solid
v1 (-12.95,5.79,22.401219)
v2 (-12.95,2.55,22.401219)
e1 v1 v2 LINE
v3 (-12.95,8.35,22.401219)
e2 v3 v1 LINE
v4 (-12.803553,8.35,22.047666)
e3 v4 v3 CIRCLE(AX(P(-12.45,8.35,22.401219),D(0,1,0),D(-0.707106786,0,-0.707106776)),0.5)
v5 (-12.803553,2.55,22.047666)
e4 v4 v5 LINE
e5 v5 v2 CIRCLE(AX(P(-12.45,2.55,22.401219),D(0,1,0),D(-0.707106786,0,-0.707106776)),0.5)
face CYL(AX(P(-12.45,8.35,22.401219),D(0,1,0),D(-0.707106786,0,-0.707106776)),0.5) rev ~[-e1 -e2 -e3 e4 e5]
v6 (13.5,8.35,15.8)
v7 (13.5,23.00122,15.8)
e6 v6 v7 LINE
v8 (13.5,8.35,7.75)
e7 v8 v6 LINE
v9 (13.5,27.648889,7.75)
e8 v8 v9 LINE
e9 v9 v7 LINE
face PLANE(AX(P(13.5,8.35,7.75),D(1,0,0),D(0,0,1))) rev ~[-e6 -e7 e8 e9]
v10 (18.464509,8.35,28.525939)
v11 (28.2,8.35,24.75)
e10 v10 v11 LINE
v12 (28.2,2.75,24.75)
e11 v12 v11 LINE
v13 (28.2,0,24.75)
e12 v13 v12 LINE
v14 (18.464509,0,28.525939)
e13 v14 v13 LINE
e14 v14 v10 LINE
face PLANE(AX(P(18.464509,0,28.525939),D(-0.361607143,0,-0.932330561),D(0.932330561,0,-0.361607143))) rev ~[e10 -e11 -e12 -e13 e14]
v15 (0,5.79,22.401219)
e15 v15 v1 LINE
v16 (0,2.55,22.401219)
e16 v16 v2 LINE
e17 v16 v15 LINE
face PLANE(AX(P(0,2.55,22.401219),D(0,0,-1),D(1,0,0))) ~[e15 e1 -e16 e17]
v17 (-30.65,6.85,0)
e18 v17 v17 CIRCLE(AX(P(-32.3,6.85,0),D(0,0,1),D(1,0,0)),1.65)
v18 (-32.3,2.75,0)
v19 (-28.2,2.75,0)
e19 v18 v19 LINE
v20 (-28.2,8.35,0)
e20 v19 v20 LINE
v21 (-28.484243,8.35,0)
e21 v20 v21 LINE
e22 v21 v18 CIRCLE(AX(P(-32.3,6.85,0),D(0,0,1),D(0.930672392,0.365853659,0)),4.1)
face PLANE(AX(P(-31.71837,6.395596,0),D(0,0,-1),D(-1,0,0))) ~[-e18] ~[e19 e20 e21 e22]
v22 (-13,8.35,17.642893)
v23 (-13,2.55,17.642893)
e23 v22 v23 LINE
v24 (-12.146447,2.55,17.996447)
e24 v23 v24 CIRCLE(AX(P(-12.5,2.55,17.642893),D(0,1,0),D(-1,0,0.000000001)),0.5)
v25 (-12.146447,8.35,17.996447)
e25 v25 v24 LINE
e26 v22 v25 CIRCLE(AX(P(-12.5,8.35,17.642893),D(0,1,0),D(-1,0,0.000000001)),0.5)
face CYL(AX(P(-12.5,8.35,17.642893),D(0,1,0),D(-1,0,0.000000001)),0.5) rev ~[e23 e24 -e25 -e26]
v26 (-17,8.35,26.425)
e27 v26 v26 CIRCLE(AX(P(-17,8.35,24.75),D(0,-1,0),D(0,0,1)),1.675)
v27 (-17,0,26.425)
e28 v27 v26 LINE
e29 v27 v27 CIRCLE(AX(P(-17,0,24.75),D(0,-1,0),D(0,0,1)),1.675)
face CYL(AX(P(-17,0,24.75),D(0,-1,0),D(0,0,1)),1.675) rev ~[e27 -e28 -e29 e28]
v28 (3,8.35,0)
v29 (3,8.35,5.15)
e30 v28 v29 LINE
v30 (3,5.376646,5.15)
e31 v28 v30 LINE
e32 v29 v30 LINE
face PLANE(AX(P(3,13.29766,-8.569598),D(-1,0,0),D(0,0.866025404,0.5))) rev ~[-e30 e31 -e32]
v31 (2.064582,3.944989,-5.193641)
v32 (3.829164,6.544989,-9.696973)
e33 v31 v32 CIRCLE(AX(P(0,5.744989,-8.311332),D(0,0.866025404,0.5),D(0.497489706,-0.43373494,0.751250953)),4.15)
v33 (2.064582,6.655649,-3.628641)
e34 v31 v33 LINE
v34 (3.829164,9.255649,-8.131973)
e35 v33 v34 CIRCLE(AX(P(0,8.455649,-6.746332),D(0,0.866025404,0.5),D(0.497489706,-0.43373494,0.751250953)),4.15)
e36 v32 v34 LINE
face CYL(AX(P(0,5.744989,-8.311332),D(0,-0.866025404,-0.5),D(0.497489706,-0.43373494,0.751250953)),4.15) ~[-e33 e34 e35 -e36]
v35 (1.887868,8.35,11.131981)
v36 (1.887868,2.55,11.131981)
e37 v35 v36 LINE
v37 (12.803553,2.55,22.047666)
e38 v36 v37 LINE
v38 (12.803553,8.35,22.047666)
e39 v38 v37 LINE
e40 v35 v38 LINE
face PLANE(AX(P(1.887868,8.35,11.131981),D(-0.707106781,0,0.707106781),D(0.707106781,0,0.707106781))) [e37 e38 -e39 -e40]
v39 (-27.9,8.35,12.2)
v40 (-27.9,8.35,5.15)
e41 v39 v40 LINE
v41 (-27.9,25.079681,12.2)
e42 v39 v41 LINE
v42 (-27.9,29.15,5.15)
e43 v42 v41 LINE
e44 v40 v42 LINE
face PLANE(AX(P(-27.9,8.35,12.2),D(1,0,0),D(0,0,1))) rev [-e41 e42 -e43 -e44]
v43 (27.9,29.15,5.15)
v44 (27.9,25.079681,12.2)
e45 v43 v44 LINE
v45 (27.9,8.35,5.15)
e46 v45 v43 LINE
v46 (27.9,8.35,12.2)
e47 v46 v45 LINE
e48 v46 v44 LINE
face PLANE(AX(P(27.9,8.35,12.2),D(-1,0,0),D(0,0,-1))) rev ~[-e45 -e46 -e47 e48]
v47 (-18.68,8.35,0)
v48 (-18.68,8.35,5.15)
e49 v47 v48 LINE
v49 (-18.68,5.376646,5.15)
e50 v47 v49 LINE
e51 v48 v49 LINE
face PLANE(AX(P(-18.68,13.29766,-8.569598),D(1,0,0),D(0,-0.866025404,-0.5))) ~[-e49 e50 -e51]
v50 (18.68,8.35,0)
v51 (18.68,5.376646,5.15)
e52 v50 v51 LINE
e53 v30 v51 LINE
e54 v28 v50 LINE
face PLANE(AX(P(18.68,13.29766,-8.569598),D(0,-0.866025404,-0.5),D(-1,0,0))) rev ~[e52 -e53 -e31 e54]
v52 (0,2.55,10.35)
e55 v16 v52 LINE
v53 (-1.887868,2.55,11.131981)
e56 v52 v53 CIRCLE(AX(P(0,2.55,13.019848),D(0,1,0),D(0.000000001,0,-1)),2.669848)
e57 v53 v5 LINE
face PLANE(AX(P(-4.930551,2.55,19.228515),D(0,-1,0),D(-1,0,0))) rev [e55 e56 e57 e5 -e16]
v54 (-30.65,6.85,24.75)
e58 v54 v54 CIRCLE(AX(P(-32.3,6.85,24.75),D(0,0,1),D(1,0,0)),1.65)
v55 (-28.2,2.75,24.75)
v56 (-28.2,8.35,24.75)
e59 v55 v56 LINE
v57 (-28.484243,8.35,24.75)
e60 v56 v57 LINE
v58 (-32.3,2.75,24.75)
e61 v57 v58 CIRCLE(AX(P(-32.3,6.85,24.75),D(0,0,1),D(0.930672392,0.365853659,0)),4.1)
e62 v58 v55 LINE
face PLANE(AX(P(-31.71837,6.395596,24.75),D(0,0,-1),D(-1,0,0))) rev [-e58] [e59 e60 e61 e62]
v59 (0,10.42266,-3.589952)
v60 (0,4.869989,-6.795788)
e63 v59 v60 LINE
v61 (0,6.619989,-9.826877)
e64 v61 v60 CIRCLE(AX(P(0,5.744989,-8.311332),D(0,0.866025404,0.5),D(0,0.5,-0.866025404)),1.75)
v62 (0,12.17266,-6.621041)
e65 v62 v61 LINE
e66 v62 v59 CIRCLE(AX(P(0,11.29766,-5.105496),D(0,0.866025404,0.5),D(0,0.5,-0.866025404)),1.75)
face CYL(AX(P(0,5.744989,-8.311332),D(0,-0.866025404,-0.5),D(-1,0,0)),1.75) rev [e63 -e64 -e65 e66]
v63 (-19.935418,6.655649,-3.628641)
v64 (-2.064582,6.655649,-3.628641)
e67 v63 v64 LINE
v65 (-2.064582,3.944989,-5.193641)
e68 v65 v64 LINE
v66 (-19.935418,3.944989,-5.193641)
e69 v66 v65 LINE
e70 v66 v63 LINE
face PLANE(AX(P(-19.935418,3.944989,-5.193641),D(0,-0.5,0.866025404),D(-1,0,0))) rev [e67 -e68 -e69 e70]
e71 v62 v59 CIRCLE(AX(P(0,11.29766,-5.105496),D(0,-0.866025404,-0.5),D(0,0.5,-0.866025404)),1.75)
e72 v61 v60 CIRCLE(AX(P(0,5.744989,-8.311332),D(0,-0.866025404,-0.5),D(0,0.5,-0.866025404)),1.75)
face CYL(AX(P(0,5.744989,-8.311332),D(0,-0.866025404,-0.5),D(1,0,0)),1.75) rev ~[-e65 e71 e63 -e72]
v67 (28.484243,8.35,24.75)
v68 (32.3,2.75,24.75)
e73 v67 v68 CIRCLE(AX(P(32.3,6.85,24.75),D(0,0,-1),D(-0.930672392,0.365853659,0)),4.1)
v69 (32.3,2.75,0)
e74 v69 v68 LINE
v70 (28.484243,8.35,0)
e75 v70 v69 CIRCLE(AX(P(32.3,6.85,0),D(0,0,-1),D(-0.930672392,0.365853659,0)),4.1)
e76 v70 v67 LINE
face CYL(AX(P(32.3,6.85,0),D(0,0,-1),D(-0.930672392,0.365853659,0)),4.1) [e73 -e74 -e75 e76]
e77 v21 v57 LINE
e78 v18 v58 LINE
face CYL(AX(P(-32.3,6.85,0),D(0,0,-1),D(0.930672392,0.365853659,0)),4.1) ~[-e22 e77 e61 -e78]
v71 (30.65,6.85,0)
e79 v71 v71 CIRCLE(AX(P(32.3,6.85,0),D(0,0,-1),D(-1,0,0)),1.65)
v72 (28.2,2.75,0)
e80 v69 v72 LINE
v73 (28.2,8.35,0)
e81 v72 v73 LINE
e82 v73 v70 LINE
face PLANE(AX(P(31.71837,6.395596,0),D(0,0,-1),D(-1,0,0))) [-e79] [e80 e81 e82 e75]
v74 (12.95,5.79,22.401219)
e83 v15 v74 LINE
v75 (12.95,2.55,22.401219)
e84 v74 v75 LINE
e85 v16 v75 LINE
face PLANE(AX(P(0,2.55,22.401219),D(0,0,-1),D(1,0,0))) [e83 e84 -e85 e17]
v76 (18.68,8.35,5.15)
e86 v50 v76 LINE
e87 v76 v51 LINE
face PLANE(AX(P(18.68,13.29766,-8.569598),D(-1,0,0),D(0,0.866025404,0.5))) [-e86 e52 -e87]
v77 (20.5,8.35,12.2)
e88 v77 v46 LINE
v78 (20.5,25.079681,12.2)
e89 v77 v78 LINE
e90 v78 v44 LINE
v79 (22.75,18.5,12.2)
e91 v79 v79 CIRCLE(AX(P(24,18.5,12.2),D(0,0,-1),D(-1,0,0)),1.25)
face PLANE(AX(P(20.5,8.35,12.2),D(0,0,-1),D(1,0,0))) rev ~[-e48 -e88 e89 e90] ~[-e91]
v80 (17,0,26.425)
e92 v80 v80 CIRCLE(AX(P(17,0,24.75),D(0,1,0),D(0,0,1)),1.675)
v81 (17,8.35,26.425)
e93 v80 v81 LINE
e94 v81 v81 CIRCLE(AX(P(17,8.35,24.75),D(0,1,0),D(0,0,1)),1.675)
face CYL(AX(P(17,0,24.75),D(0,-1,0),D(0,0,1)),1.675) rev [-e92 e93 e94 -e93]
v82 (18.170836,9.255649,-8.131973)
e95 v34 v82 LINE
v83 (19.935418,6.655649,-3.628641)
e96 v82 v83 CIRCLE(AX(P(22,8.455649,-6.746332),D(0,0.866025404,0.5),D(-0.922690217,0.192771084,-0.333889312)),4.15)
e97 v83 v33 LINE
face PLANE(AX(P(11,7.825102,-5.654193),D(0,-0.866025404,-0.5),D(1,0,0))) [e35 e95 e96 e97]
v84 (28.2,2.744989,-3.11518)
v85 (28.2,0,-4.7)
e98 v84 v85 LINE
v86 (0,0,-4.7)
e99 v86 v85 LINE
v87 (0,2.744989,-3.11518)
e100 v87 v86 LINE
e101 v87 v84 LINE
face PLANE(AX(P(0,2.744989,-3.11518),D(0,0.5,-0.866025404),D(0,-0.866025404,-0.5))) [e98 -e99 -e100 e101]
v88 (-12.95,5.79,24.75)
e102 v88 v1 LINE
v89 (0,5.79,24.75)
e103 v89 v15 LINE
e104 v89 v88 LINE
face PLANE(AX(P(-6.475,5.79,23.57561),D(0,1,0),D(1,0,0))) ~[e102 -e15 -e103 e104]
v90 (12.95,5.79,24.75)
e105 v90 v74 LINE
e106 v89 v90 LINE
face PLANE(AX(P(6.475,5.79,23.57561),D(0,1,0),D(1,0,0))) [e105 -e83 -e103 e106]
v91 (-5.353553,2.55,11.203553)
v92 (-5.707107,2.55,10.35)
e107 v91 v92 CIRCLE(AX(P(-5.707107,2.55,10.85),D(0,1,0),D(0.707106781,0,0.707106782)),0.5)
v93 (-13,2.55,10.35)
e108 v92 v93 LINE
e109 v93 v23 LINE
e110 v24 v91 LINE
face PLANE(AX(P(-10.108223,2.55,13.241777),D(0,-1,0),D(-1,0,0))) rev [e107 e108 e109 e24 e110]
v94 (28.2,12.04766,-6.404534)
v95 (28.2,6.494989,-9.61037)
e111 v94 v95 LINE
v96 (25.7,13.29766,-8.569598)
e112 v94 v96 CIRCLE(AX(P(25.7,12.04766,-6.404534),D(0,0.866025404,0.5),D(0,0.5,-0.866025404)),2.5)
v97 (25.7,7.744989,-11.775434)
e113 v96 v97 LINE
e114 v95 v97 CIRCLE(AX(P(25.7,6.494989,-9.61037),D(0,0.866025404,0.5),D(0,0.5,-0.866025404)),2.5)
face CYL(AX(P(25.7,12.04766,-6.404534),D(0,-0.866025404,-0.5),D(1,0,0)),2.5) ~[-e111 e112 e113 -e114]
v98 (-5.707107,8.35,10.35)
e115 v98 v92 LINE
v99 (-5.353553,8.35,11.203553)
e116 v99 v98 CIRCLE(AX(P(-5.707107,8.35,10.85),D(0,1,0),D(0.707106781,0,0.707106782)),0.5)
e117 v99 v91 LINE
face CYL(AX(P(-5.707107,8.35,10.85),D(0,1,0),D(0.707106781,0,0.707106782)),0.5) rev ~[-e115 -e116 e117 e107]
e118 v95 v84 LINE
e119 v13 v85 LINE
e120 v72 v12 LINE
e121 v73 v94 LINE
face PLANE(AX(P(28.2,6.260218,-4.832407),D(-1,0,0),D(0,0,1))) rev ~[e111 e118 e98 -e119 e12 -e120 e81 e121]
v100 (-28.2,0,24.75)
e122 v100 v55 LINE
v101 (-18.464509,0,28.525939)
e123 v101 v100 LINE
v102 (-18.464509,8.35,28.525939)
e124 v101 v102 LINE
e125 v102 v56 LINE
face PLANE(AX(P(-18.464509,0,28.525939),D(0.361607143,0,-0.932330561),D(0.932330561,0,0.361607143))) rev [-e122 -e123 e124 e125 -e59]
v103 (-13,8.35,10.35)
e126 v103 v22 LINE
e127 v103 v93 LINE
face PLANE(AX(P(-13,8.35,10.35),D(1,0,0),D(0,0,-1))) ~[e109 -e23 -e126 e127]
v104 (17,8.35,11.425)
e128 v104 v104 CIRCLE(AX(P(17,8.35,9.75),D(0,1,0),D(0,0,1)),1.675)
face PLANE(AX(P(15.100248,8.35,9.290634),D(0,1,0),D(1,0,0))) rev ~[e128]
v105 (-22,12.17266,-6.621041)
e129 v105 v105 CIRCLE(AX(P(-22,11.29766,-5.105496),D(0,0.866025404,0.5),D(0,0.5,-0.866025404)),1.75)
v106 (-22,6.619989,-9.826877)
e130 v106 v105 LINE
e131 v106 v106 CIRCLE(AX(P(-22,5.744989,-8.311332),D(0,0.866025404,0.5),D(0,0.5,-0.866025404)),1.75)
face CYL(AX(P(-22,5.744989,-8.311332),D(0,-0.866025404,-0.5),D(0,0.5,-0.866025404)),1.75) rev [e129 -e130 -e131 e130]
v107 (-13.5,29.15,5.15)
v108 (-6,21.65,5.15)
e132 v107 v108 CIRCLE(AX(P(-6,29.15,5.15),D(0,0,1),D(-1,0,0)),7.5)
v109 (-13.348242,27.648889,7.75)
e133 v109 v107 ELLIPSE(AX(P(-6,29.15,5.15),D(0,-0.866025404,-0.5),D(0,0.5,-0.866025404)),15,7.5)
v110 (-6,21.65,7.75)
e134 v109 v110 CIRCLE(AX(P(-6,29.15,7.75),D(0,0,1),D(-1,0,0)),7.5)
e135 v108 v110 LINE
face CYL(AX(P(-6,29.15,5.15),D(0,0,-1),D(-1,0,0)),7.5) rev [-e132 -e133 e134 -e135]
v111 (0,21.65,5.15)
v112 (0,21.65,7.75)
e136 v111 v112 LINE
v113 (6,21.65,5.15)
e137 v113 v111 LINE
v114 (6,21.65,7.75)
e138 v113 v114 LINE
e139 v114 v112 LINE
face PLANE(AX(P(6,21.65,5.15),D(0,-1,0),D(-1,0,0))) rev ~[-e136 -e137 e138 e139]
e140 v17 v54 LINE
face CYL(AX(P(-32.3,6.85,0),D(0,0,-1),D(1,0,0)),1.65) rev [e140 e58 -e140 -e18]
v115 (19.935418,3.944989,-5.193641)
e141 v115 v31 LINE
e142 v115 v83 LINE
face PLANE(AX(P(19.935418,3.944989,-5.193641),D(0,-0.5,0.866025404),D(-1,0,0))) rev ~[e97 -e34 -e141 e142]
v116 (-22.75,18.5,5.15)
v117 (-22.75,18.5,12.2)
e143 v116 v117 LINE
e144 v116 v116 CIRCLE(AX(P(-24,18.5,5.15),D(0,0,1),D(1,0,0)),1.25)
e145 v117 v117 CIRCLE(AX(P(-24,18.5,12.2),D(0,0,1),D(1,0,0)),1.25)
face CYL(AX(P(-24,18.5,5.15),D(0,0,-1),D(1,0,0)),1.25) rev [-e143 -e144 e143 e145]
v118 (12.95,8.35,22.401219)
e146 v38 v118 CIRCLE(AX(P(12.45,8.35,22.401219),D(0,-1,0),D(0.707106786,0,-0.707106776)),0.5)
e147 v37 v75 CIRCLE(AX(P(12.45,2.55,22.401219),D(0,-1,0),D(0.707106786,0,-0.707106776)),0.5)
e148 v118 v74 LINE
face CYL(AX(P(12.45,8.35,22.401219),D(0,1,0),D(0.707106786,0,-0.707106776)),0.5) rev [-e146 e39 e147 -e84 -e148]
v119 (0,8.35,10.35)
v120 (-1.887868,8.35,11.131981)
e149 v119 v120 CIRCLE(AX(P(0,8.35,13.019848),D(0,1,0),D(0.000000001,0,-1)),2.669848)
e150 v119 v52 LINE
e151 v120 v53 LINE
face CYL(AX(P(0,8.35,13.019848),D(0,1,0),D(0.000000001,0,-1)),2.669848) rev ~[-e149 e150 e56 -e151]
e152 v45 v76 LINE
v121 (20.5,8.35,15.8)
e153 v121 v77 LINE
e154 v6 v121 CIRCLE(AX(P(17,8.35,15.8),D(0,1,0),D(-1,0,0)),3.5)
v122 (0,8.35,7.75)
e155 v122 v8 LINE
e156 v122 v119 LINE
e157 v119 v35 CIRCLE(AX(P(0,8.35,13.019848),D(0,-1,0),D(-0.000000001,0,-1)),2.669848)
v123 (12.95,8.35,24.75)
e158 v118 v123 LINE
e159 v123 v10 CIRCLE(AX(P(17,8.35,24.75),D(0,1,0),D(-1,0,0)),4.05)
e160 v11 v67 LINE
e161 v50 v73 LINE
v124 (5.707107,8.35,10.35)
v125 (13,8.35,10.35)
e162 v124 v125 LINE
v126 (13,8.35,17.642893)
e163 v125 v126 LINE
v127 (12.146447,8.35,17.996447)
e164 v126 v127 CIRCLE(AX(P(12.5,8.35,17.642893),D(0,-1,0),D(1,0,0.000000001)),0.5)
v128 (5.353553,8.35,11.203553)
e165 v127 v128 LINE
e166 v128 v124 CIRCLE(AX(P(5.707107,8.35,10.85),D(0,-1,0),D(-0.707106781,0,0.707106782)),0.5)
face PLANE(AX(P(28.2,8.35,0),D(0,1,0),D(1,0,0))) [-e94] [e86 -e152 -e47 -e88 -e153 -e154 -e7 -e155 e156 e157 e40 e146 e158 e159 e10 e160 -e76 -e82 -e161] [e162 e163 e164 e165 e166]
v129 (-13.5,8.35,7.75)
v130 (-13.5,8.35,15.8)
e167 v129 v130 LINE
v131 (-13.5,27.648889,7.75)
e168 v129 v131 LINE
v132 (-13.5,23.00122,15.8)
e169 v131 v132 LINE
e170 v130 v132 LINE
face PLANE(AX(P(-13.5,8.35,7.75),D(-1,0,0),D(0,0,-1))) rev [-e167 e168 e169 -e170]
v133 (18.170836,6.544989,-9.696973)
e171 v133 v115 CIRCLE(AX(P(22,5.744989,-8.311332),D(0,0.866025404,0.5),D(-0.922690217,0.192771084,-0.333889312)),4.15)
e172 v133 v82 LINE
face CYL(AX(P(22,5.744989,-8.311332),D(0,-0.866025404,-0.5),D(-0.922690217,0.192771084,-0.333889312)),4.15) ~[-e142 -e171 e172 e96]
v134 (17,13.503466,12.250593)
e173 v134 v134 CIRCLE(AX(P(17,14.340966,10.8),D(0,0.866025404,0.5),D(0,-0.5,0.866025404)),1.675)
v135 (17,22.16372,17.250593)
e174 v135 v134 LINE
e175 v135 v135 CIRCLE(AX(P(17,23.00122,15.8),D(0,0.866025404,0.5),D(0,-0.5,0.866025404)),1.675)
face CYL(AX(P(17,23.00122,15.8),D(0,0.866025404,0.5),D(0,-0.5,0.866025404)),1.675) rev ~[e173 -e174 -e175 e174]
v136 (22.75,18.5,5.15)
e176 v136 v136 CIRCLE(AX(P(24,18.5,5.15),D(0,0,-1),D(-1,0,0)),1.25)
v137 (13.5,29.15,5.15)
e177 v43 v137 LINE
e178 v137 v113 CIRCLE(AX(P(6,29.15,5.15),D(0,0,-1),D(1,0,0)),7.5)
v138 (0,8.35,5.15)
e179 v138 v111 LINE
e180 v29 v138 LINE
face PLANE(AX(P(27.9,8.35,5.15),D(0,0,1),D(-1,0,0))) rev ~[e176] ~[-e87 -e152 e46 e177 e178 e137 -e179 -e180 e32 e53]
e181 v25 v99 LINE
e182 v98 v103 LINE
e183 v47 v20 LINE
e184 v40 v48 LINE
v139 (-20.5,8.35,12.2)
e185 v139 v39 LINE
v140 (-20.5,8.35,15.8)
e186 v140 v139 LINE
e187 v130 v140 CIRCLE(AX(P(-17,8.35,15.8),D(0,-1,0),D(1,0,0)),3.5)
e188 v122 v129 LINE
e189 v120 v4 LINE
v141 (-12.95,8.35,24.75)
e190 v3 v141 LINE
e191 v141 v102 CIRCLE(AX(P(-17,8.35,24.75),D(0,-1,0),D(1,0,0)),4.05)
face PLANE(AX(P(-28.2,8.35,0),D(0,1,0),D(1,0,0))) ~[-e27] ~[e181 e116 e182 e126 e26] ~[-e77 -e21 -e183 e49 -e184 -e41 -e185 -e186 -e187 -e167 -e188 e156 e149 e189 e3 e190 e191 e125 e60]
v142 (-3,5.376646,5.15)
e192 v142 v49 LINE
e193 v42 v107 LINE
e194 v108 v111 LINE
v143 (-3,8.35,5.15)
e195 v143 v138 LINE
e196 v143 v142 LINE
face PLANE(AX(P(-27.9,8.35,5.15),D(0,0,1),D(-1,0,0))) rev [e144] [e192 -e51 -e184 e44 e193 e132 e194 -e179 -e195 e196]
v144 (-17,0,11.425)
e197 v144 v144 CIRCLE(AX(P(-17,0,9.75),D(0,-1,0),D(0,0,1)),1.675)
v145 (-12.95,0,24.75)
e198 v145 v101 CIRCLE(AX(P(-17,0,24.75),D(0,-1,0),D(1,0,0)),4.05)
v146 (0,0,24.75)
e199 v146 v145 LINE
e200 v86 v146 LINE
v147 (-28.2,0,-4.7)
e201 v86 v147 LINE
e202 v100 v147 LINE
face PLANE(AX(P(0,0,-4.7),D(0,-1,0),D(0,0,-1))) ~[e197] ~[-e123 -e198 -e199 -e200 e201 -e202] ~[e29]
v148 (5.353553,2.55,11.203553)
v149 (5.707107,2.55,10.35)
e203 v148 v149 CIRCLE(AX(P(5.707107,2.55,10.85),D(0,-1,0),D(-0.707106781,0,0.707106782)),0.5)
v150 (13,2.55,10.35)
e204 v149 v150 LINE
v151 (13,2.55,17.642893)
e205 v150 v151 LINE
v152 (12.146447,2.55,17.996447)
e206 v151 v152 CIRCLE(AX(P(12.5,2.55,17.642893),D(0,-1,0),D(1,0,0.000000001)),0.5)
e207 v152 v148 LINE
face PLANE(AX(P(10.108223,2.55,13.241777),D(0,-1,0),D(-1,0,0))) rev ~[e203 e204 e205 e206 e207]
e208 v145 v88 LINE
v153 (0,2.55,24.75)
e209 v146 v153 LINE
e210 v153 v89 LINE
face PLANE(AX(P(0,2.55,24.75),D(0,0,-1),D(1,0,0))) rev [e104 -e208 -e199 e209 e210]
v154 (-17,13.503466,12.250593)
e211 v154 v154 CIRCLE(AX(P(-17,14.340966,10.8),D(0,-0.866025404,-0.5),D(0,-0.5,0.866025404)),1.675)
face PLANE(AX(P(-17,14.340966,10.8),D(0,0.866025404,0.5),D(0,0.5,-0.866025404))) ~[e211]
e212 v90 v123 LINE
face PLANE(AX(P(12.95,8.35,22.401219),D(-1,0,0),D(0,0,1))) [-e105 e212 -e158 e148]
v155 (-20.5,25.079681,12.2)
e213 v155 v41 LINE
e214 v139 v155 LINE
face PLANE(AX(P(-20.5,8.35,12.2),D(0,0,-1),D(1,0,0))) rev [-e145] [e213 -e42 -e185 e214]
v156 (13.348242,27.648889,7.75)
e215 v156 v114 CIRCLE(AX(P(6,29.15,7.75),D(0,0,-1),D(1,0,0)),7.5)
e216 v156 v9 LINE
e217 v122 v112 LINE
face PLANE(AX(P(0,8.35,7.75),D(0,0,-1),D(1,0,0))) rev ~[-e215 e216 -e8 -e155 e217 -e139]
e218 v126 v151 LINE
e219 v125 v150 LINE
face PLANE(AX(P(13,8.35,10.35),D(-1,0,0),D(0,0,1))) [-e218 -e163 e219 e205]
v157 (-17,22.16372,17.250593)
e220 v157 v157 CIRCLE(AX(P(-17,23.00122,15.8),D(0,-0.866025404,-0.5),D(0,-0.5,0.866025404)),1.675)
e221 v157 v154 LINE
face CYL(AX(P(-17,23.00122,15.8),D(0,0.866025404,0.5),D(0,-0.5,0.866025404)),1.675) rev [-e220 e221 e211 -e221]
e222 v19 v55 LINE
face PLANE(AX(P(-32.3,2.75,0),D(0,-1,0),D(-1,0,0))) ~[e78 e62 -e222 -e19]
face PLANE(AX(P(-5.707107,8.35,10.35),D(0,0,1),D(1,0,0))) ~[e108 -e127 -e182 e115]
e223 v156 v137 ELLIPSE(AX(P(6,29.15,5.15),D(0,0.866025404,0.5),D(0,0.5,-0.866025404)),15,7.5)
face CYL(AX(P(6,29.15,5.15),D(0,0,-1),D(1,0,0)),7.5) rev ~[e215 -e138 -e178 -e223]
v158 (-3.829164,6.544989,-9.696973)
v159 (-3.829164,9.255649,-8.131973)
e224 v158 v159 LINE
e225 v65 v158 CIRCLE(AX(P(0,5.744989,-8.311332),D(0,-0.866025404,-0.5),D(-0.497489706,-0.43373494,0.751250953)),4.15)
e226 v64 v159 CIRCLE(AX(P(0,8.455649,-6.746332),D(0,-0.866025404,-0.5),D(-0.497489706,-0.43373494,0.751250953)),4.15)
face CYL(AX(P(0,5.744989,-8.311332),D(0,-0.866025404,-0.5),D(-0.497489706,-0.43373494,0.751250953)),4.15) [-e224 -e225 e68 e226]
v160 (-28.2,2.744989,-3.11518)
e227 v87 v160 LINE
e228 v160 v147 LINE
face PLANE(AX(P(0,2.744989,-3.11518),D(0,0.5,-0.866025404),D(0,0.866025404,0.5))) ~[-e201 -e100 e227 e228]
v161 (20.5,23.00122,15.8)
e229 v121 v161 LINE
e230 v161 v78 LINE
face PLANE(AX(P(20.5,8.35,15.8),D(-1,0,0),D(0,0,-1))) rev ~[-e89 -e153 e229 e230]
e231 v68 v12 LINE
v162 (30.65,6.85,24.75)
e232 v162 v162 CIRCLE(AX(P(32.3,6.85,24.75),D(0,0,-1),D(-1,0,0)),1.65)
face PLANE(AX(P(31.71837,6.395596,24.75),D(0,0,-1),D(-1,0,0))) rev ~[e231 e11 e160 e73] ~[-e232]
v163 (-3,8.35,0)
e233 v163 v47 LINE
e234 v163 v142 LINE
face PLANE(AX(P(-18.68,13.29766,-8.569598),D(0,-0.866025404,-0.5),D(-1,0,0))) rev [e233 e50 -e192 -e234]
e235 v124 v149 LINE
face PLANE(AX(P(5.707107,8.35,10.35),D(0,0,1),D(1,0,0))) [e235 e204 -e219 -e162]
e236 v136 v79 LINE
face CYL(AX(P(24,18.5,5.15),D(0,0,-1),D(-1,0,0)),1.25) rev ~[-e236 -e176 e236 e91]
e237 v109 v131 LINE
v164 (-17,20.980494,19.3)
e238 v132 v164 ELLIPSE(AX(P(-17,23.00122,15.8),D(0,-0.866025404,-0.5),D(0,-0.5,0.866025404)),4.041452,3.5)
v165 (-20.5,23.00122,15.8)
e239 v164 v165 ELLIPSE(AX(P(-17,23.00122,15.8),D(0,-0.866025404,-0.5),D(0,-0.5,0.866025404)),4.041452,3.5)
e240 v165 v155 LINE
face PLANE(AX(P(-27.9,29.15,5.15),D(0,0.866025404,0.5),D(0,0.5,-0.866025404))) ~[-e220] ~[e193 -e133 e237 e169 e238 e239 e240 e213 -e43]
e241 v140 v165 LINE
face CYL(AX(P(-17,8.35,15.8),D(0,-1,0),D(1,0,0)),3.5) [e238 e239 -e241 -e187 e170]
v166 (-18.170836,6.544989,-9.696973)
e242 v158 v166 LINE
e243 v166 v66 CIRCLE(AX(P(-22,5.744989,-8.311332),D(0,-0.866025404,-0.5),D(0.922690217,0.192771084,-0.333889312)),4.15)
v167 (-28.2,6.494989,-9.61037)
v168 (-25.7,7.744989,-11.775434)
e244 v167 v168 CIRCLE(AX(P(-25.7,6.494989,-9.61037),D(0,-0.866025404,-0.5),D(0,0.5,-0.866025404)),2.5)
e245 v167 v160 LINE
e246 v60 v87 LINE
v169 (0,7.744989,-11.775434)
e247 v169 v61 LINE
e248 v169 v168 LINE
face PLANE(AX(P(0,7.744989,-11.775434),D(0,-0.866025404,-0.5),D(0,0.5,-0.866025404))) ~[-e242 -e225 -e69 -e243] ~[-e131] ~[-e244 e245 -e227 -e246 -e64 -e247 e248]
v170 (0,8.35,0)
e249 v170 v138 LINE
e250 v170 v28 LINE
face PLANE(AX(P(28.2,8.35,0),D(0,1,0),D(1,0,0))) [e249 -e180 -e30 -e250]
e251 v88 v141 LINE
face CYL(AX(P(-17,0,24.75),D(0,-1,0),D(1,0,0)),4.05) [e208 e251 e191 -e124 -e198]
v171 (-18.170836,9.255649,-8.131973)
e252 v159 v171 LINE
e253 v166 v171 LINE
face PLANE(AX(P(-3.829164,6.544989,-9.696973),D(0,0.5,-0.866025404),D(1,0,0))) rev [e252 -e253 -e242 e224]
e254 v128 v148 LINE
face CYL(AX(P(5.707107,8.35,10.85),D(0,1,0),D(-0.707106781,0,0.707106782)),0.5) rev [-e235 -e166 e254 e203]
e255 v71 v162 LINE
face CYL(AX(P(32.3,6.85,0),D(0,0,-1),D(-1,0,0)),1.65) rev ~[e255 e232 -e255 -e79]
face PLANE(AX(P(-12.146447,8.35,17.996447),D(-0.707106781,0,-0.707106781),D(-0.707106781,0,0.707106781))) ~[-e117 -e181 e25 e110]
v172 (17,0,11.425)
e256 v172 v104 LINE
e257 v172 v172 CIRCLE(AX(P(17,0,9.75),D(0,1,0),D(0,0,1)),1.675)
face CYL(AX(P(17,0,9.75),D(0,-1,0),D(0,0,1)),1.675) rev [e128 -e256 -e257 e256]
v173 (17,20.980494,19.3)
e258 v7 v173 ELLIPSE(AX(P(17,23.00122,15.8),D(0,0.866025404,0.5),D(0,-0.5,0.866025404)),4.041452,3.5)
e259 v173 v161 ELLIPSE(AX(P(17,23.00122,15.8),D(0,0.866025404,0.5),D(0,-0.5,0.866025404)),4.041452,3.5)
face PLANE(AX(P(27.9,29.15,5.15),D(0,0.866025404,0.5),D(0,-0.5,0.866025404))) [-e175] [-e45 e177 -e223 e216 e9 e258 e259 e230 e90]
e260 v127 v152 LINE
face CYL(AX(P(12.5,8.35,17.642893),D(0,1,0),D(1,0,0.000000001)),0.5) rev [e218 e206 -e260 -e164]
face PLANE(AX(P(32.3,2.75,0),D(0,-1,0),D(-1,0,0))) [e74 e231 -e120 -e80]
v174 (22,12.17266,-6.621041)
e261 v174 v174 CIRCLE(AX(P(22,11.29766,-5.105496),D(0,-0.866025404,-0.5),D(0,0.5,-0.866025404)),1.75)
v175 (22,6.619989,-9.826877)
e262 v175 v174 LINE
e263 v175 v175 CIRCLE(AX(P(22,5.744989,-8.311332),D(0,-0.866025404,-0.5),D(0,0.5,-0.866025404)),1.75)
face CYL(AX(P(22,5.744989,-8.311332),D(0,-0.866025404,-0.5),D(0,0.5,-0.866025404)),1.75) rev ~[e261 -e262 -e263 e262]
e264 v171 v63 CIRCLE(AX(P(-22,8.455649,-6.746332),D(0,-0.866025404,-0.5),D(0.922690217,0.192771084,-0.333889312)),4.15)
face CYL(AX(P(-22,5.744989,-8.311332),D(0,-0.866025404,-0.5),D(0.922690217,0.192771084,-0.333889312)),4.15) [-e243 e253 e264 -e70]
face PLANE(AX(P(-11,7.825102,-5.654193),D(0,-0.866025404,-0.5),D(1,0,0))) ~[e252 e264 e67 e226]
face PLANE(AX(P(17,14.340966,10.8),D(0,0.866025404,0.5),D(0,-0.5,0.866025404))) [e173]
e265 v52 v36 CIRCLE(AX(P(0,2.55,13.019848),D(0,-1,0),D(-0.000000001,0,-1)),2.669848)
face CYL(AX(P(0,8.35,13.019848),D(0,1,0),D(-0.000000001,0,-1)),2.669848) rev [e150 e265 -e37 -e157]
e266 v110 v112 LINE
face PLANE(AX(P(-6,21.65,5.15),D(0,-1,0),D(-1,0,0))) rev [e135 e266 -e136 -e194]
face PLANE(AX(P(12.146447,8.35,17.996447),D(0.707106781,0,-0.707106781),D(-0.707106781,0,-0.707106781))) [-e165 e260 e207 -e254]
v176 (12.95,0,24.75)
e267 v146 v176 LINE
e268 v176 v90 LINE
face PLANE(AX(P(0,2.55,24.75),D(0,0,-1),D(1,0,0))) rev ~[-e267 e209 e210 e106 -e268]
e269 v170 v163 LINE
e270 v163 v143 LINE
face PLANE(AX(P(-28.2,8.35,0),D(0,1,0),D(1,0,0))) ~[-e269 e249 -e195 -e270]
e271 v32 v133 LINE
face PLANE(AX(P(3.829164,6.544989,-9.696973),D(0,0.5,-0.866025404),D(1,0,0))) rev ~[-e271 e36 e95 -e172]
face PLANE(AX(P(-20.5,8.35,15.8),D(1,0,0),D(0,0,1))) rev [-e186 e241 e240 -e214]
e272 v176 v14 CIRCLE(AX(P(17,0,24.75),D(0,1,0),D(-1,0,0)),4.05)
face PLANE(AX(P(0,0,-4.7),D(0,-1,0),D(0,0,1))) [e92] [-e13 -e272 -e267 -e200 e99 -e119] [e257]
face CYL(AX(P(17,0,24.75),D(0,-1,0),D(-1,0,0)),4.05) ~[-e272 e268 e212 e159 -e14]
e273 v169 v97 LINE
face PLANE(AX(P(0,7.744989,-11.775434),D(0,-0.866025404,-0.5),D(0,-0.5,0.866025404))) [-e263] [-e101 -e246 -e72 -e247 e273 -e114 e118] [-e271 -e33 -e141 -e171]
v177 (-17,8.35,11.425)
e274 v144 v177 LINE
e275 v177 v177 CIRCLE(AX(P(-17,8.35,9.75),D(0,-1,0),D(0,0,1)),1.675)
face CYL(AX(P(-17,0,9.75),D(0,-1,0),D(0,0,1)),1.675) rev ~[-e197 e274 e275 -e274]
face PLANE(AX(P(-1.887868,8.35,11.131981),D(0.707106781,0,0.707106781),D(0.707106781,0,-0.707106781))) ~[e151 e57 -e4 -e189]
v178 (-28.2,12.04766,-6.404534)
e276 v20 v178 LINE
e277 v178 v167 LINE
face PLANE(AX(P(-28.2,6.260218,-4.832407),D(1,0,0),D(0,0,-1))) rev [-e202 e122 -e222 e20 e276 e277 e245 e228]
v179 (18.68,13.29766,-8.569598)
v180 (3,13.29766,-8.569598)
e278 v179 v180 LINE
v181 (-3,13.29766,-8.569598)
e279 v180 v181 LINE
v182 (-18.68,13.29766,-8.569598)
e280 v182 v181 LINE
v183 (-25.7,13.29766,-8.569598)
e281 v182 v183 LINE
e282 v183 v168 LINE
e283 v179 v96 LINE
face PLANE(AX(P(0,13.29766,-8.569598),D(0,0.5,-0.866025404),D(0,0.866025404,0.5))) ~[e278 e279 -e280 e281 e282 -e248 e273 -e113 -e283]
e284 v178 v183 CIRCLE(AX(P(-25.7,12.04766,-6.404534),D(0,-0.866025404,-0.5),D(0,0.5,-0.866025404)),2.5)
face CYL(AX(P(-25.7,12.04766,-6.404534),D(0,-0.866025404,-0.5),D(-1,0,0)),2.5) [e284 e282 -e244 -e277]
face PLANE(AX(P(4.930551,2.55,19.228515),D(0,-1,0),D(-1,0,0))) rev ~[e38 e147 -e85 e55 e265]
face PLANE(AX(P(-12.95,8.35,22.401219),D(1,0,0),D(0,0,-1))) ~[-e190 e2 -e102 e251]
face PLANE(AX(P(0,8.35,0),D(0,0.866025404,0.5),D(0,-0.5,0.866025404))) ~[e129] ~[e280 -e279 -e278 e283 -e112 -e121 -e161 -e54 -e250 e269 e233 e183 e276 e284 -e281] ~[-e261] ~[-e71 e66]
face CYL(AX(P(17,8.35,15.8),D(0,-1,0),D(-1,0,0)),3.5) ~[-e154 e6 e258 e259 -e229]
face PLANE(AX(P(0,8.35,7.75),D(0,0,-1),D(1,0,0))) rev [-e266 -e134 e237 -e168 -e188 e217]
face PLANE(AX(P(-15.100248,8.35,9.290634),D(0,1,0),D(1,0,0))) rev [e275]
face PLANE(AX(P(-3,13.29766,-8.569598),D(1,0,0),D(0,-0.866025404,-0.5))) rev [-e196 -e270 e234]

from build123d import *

# Parameters (mm, degrees)
SKETCH1_R           = 1.675
BOSS_EXTRUDE1_DEPTH = 8.35
SKETCH2_R           = 1.65
BOSS_EXTRUDE2_DEPTH = 24.75
BOSS_EXTRUDE3_DEPTH = 20.8
CUT_EXTRUDE1_DEPTH  = 50.573909469
CUT_EXTRUDE2_DEPTH  = 53.287713662
SKETCH6_R           = 1.675
CUT_EXTRUDE3_DEPTH  = 10
SKETCH7_R           = 1.25
CUT_EXTRUDE4_DEPTH  = 53.287713662
CUT_EXTRUDE5_DEPTH  = 5.8
SKETCH9_W           = 12.95
SKETCH9_H           = 2.348780669
BOSS_EXTRUDE4_DEPTH = 3.24
BOSS_EXTRUDE5_DEPTH = 28.2
FILLET1_R           = 2.5
SKETCH11_R          = 1.75
CUT_EXTRUDE6_DEPTH  = 6.411671601
CUT_EXTRUDE7_DEPTH  = 3.13
CUT_EXTRUDE8_REACH  = 61.109
SKETCH13_W          = 15.68
SKETCH13_H          = 5


with BuildPart() as part:
    # Sketch1 → Boss-Extrude1 (new body)
    with BuildSketch(Plane(origin=(0, 0, 0), x_dir=(1, 0, 0), z_dir=(0, 1, 0))):
        with BuildLine():
            Line((28.2, 0), (0, 0))
            Line((0, 0), (0, -24.75))
            Line((0, -24.75), (12.95, -24.75))
            ThreePointArc((12.95, -24.75), (14.711852404, -28.091688283), (18.464508929, -28.52593877))
            Line((18.464508929, -28.52593877), (28.2, -24.75))
            Line((28.2, -24.75), (28.2, 0))
        make_face()
        with Locations(Location((17, -24.75, 0), (0, 0, 270))):
            Circle(SKETCH1_R, mode=Mode.SUBTRACT)
        with Locations(Location((17, -9.75, 0), (0, 0, 270))):
            Circle(SKETCH1_R, mode=Mode.SUBTRACT)
    extrude(amount=BOSS_EXTRUDE1_DEPTH)

    # Sketch2 → Boss-Extrude2 (add)
    with BuildSketch(Plane(origin=(0, 0, 0), x_dir=(-1, 0, 0), z_dir=(0, 0, -1))):
        with BuildLine():
            Line((-32.3, 2.75), (-28.2, 2.75))
            Line((-28.2, 2.75), (-28.2, 8.35))
            Line((-28.2, 8.35), (-28.484243194, 8.35))
            ThreePointArc((-28.484243194, 8.35), (-35.688214869, 9.158679276), (-32.3, 2.75))
        make_face()
        with Locations((-32.3, 6.85)):
            Circle(SKETCH2_R, mode=Mode.SUBTRACT)
    extrude(amount=-BOSS_EXTRUDE2_DEPTH)

    # Sketch3 → Boss-Extrude3 (add)
    with BuildSketch(Plane(origin=(0, 8.35, 0), x_dir=(1, 0, 0), z_dir=(0, 1, 0))):
        with BuildLine():
            Line((27.9, -5.15), (0, -5.15))
            Line((0, -5.15), (0, -7.75))
            Line((0, -7.75), (13.5, -7.75))
            Line((13.5, -7.75), (13.5, -15.8))
            ThreePointArc((13.5, -15.8), (17, -19.3), (20.5, -15.8))
            Line((20.5, -15.8), (20.5, -12.2))
            Line((20.5, -12.2), (27.9, -12.2))
            Line((27.9, -12.2), (27.9, -5.15))
        make_face()
    extrude(amount=BOSS_EXTRUDE3_DEPTH)

    # Sketch4 → Cut-Extrude1 (cut, through all)
    with BuildSketch(Plane(origin=(27.9, 0, 0), x_dir=(0, 0, -1), z_dir=(1, 0, 0))):
        Polygon((-5.15, 29.15), (-19.3, 20.980493691), (-19.3, 29.15), align=None)
    extrude(amount=-CUT_EXTRUDE1_DEPTH, mode=Mode.SUBTRACT)

    # Sketch5 → Cut-Extrude2 (cut, through all)
    with BuildSketch(Plane(origin=(0, 0, 5.15), x_dir=(-1, 0, 0), z_dir=(0, 0, -1))):
        with BuildLine():
            Line((-6, 21.65), (0, 21.65))
            Line((0, 21.65), (0, 29.15))
            Line((0, 29.15), (-13.5, 29.15))
            ThreePointArc((-13.5, 29.15), (-11.303300859, 23.846699141), (-6, 21.65))
        make_face()
    extrude(amount=-CUT_EXTRUDE2_DEPTH, mode=Mode.SUBTRACT)

    # Sketch6 → Cut-Extrude3 (cut)
    with BuildSketch(Plane(origin=(0, 24.092515415, 13.90982026), x_dir=(1, 0, 0), z_dir=(0, 0.8660254037844362, 0.5000000000000046))):
        with Locations(Location((17, -2.182591563, 0), (0, 0, 270))):
            Circle(SKETCH6_R)
    extrude(amount=-CUT_EXTRUDE3_DEPTH, mode=Mode.SUBTRACT)

    # Sketch7 → Cut-Extrude4 (cut, through all)
    with BuildSketch(Plane(origin=(0, 0, 5.15), x_dir=(-1, 0, 0), z_dir=(0, 0, -1))):
        with Locations((-24, 18.5)):
            Circle(SKETCH7_R)
    extrude(amount=-CUT_EXTRUDE4_DEPTH, mode=Mode.SUBTRACT)

    # Sketch8 → Cut-Extrude5 (cut)
    with BuildSketch(Plane(origin=(0, 8.35, 0), x_dir=(1, 0, 0), z_dir=(0, 1, 0))):
        with BuildLine():
            Line((13, -10.35), (13, -17.642893219))
            ThreePointArc((13, -17.642893219), (12.691341716, -18.104832985), (12.146446609, -17.996446609))
            Line((12.146446609, -17.996446609), (5.353553391, -11.203553391))
            ThreePointArc((5.353553391, -11.203553391), (5.245167015, -10.658658284), (5.707106781, -10.35))
            Line((5.707106781, -10.35), (13, -10.35))
        make_face()
        with BuildLine():
            Line((1.887867966, -11.131980515), (12.803553391, -22.04766594))
            ThreePointArc((12.803553391, -22.04766594), (12.911939766, -22.209877615), (12.95, -22.401219331))
            Line((12.95, -22.401219331), (12.95, -24.75))
            Line((12.95, -24.75), (0, -24.75))
            Line((0, -24.75), (0, -10.35))
            ThreePointArc((0, -10.35), (1.021706781, -10.553230114), (1.887867966, -11.131980515))
        make_face()
    extrude(amount=-CUT_EXTRUDE5_DEPTH, mode=Mode.SUBTRACT)

    # Sketch9 → Boss-Extrude4 (add)
    with BuildSketch(Plane(origin=(0, 2.55, 0), x_dir=(1, 0, 0), z_dir=(0, 1, 0))):
        with Locations((6.475, -23.575609666)):
            Rectangle(SKETCH9_W, SKETCH9_H)
    extrude(amount=BOSS_EXTRUDE4_DEPTH)

    # Sketch10 → Boss-Extrude5 (add)
    with BuildSketch(Plane.ZY):
        Polygon((0, 8.35), (-8.569597977, 13.297659699), (-11.775433778, 7.744989211), (-3.11517974, 2.744989211), (-4.7, 0), (0, 0), align=None)
    extrude(amount=-BOSS_EXTRUDE5_DEPTH)

    # Fillet1
    fillet1_edges = [part.edges().sort_by_distance(p)[0] for p in [
        (28.2, 10.521324455, -10.172515877),
    ]]
    fillet(fillet1_edges, radius=FILLET1_R)

    # Sketch11 → Cut-Extrude6 (cut)
    with BuildSketch(Plane(origin=(0, 0.709829513, 0.40982026), x_dir=(1, 0, 0), z_dir=(0, -0.8660254037844389, -0.4999999999999994))):
        with Locations((0, -10.070319398)):
            Circle(SKETCH11_R)
        with Locations(Location((22, -10.070319398, 0), (0, 0, 270))):
            Circle(SKETCH11_R)
    extrude(amount=-CUT_EXTRUDE6_DEPTH, mode=Mode.SUBTRACT)

    # Sketch12 → Cut-Extrude7 (cut)
    with BuildSketch(Plane(origin=(0, 0.709829513, 0.40982026), x_dir=(1, 0, 0), z_dir=(0, -0.8660254037844389, -0.4999999999999994))):
        with BuildLine():
            Line((19.935417718, -6.470319398), (2.064582282, -6.470319398))
            ThreePointArc((2.064582282, -6.470319398), (3.929893445, -8.736738687), (3.8291644, -11.670319398))
            Line((3.8291644, -11.670319398), (18.1708356, -11.670319398))
            ThreePointArc((18.1708356, -11.670319398), (18.070106555, -8.736738687), (19.935417718, -6.470319398))
        make_face()
    extrude(amount=-CUT_EXTRUDE7_DEPTH, mode=Mode.SUBTRACT)

    # Cut-Extrude8: up to this plane
    cut_extrude8_end = Plane(origin=(0, 29.15, 5.15), z_dir=(0, 0, -1))
    # Sketch13 → Cut-Extrude8 (cut, up to the surface)
    with BuildSketch(Plane(origin=(0, 7.035159699, -12.185254038), x_dir=(-1, 0, 0), z_dir=(0, 0.4999999999999996, -0.8660254037844388)), mode=Mode.PRIVATE) as cut_extrude8_sk1:
        with Locations((-10.84, 9.731312122)):
            Rectangle(SKETCH13_W, SKETCH13_H)
    cut_extrude8_tool1 = split(extrude(cut_extrude8_sk1.sketch, amount=-CUT_EXTRUDE8_REACH, mode=Mode.PRIVATE), bisect_by=cut_extrude8_end, keep=Keep.BOTH, mode=Mode.PRIVATE)
    add(cut_extrude8_tool1.solids().sort_by_distance((10.84, 15.462723, -7.319598))[0], mode=Mode.SUBTRACT)

    # Mirror1: part across plane


with BuildPart() as part_1:
    add(part.part)
    add(part.part.mirror(Plane(origin=(0, 8.35, 24.75), x_dir=(0, 0, 1), z_dir=(1, 0, 0))))


solid = part_1.part
